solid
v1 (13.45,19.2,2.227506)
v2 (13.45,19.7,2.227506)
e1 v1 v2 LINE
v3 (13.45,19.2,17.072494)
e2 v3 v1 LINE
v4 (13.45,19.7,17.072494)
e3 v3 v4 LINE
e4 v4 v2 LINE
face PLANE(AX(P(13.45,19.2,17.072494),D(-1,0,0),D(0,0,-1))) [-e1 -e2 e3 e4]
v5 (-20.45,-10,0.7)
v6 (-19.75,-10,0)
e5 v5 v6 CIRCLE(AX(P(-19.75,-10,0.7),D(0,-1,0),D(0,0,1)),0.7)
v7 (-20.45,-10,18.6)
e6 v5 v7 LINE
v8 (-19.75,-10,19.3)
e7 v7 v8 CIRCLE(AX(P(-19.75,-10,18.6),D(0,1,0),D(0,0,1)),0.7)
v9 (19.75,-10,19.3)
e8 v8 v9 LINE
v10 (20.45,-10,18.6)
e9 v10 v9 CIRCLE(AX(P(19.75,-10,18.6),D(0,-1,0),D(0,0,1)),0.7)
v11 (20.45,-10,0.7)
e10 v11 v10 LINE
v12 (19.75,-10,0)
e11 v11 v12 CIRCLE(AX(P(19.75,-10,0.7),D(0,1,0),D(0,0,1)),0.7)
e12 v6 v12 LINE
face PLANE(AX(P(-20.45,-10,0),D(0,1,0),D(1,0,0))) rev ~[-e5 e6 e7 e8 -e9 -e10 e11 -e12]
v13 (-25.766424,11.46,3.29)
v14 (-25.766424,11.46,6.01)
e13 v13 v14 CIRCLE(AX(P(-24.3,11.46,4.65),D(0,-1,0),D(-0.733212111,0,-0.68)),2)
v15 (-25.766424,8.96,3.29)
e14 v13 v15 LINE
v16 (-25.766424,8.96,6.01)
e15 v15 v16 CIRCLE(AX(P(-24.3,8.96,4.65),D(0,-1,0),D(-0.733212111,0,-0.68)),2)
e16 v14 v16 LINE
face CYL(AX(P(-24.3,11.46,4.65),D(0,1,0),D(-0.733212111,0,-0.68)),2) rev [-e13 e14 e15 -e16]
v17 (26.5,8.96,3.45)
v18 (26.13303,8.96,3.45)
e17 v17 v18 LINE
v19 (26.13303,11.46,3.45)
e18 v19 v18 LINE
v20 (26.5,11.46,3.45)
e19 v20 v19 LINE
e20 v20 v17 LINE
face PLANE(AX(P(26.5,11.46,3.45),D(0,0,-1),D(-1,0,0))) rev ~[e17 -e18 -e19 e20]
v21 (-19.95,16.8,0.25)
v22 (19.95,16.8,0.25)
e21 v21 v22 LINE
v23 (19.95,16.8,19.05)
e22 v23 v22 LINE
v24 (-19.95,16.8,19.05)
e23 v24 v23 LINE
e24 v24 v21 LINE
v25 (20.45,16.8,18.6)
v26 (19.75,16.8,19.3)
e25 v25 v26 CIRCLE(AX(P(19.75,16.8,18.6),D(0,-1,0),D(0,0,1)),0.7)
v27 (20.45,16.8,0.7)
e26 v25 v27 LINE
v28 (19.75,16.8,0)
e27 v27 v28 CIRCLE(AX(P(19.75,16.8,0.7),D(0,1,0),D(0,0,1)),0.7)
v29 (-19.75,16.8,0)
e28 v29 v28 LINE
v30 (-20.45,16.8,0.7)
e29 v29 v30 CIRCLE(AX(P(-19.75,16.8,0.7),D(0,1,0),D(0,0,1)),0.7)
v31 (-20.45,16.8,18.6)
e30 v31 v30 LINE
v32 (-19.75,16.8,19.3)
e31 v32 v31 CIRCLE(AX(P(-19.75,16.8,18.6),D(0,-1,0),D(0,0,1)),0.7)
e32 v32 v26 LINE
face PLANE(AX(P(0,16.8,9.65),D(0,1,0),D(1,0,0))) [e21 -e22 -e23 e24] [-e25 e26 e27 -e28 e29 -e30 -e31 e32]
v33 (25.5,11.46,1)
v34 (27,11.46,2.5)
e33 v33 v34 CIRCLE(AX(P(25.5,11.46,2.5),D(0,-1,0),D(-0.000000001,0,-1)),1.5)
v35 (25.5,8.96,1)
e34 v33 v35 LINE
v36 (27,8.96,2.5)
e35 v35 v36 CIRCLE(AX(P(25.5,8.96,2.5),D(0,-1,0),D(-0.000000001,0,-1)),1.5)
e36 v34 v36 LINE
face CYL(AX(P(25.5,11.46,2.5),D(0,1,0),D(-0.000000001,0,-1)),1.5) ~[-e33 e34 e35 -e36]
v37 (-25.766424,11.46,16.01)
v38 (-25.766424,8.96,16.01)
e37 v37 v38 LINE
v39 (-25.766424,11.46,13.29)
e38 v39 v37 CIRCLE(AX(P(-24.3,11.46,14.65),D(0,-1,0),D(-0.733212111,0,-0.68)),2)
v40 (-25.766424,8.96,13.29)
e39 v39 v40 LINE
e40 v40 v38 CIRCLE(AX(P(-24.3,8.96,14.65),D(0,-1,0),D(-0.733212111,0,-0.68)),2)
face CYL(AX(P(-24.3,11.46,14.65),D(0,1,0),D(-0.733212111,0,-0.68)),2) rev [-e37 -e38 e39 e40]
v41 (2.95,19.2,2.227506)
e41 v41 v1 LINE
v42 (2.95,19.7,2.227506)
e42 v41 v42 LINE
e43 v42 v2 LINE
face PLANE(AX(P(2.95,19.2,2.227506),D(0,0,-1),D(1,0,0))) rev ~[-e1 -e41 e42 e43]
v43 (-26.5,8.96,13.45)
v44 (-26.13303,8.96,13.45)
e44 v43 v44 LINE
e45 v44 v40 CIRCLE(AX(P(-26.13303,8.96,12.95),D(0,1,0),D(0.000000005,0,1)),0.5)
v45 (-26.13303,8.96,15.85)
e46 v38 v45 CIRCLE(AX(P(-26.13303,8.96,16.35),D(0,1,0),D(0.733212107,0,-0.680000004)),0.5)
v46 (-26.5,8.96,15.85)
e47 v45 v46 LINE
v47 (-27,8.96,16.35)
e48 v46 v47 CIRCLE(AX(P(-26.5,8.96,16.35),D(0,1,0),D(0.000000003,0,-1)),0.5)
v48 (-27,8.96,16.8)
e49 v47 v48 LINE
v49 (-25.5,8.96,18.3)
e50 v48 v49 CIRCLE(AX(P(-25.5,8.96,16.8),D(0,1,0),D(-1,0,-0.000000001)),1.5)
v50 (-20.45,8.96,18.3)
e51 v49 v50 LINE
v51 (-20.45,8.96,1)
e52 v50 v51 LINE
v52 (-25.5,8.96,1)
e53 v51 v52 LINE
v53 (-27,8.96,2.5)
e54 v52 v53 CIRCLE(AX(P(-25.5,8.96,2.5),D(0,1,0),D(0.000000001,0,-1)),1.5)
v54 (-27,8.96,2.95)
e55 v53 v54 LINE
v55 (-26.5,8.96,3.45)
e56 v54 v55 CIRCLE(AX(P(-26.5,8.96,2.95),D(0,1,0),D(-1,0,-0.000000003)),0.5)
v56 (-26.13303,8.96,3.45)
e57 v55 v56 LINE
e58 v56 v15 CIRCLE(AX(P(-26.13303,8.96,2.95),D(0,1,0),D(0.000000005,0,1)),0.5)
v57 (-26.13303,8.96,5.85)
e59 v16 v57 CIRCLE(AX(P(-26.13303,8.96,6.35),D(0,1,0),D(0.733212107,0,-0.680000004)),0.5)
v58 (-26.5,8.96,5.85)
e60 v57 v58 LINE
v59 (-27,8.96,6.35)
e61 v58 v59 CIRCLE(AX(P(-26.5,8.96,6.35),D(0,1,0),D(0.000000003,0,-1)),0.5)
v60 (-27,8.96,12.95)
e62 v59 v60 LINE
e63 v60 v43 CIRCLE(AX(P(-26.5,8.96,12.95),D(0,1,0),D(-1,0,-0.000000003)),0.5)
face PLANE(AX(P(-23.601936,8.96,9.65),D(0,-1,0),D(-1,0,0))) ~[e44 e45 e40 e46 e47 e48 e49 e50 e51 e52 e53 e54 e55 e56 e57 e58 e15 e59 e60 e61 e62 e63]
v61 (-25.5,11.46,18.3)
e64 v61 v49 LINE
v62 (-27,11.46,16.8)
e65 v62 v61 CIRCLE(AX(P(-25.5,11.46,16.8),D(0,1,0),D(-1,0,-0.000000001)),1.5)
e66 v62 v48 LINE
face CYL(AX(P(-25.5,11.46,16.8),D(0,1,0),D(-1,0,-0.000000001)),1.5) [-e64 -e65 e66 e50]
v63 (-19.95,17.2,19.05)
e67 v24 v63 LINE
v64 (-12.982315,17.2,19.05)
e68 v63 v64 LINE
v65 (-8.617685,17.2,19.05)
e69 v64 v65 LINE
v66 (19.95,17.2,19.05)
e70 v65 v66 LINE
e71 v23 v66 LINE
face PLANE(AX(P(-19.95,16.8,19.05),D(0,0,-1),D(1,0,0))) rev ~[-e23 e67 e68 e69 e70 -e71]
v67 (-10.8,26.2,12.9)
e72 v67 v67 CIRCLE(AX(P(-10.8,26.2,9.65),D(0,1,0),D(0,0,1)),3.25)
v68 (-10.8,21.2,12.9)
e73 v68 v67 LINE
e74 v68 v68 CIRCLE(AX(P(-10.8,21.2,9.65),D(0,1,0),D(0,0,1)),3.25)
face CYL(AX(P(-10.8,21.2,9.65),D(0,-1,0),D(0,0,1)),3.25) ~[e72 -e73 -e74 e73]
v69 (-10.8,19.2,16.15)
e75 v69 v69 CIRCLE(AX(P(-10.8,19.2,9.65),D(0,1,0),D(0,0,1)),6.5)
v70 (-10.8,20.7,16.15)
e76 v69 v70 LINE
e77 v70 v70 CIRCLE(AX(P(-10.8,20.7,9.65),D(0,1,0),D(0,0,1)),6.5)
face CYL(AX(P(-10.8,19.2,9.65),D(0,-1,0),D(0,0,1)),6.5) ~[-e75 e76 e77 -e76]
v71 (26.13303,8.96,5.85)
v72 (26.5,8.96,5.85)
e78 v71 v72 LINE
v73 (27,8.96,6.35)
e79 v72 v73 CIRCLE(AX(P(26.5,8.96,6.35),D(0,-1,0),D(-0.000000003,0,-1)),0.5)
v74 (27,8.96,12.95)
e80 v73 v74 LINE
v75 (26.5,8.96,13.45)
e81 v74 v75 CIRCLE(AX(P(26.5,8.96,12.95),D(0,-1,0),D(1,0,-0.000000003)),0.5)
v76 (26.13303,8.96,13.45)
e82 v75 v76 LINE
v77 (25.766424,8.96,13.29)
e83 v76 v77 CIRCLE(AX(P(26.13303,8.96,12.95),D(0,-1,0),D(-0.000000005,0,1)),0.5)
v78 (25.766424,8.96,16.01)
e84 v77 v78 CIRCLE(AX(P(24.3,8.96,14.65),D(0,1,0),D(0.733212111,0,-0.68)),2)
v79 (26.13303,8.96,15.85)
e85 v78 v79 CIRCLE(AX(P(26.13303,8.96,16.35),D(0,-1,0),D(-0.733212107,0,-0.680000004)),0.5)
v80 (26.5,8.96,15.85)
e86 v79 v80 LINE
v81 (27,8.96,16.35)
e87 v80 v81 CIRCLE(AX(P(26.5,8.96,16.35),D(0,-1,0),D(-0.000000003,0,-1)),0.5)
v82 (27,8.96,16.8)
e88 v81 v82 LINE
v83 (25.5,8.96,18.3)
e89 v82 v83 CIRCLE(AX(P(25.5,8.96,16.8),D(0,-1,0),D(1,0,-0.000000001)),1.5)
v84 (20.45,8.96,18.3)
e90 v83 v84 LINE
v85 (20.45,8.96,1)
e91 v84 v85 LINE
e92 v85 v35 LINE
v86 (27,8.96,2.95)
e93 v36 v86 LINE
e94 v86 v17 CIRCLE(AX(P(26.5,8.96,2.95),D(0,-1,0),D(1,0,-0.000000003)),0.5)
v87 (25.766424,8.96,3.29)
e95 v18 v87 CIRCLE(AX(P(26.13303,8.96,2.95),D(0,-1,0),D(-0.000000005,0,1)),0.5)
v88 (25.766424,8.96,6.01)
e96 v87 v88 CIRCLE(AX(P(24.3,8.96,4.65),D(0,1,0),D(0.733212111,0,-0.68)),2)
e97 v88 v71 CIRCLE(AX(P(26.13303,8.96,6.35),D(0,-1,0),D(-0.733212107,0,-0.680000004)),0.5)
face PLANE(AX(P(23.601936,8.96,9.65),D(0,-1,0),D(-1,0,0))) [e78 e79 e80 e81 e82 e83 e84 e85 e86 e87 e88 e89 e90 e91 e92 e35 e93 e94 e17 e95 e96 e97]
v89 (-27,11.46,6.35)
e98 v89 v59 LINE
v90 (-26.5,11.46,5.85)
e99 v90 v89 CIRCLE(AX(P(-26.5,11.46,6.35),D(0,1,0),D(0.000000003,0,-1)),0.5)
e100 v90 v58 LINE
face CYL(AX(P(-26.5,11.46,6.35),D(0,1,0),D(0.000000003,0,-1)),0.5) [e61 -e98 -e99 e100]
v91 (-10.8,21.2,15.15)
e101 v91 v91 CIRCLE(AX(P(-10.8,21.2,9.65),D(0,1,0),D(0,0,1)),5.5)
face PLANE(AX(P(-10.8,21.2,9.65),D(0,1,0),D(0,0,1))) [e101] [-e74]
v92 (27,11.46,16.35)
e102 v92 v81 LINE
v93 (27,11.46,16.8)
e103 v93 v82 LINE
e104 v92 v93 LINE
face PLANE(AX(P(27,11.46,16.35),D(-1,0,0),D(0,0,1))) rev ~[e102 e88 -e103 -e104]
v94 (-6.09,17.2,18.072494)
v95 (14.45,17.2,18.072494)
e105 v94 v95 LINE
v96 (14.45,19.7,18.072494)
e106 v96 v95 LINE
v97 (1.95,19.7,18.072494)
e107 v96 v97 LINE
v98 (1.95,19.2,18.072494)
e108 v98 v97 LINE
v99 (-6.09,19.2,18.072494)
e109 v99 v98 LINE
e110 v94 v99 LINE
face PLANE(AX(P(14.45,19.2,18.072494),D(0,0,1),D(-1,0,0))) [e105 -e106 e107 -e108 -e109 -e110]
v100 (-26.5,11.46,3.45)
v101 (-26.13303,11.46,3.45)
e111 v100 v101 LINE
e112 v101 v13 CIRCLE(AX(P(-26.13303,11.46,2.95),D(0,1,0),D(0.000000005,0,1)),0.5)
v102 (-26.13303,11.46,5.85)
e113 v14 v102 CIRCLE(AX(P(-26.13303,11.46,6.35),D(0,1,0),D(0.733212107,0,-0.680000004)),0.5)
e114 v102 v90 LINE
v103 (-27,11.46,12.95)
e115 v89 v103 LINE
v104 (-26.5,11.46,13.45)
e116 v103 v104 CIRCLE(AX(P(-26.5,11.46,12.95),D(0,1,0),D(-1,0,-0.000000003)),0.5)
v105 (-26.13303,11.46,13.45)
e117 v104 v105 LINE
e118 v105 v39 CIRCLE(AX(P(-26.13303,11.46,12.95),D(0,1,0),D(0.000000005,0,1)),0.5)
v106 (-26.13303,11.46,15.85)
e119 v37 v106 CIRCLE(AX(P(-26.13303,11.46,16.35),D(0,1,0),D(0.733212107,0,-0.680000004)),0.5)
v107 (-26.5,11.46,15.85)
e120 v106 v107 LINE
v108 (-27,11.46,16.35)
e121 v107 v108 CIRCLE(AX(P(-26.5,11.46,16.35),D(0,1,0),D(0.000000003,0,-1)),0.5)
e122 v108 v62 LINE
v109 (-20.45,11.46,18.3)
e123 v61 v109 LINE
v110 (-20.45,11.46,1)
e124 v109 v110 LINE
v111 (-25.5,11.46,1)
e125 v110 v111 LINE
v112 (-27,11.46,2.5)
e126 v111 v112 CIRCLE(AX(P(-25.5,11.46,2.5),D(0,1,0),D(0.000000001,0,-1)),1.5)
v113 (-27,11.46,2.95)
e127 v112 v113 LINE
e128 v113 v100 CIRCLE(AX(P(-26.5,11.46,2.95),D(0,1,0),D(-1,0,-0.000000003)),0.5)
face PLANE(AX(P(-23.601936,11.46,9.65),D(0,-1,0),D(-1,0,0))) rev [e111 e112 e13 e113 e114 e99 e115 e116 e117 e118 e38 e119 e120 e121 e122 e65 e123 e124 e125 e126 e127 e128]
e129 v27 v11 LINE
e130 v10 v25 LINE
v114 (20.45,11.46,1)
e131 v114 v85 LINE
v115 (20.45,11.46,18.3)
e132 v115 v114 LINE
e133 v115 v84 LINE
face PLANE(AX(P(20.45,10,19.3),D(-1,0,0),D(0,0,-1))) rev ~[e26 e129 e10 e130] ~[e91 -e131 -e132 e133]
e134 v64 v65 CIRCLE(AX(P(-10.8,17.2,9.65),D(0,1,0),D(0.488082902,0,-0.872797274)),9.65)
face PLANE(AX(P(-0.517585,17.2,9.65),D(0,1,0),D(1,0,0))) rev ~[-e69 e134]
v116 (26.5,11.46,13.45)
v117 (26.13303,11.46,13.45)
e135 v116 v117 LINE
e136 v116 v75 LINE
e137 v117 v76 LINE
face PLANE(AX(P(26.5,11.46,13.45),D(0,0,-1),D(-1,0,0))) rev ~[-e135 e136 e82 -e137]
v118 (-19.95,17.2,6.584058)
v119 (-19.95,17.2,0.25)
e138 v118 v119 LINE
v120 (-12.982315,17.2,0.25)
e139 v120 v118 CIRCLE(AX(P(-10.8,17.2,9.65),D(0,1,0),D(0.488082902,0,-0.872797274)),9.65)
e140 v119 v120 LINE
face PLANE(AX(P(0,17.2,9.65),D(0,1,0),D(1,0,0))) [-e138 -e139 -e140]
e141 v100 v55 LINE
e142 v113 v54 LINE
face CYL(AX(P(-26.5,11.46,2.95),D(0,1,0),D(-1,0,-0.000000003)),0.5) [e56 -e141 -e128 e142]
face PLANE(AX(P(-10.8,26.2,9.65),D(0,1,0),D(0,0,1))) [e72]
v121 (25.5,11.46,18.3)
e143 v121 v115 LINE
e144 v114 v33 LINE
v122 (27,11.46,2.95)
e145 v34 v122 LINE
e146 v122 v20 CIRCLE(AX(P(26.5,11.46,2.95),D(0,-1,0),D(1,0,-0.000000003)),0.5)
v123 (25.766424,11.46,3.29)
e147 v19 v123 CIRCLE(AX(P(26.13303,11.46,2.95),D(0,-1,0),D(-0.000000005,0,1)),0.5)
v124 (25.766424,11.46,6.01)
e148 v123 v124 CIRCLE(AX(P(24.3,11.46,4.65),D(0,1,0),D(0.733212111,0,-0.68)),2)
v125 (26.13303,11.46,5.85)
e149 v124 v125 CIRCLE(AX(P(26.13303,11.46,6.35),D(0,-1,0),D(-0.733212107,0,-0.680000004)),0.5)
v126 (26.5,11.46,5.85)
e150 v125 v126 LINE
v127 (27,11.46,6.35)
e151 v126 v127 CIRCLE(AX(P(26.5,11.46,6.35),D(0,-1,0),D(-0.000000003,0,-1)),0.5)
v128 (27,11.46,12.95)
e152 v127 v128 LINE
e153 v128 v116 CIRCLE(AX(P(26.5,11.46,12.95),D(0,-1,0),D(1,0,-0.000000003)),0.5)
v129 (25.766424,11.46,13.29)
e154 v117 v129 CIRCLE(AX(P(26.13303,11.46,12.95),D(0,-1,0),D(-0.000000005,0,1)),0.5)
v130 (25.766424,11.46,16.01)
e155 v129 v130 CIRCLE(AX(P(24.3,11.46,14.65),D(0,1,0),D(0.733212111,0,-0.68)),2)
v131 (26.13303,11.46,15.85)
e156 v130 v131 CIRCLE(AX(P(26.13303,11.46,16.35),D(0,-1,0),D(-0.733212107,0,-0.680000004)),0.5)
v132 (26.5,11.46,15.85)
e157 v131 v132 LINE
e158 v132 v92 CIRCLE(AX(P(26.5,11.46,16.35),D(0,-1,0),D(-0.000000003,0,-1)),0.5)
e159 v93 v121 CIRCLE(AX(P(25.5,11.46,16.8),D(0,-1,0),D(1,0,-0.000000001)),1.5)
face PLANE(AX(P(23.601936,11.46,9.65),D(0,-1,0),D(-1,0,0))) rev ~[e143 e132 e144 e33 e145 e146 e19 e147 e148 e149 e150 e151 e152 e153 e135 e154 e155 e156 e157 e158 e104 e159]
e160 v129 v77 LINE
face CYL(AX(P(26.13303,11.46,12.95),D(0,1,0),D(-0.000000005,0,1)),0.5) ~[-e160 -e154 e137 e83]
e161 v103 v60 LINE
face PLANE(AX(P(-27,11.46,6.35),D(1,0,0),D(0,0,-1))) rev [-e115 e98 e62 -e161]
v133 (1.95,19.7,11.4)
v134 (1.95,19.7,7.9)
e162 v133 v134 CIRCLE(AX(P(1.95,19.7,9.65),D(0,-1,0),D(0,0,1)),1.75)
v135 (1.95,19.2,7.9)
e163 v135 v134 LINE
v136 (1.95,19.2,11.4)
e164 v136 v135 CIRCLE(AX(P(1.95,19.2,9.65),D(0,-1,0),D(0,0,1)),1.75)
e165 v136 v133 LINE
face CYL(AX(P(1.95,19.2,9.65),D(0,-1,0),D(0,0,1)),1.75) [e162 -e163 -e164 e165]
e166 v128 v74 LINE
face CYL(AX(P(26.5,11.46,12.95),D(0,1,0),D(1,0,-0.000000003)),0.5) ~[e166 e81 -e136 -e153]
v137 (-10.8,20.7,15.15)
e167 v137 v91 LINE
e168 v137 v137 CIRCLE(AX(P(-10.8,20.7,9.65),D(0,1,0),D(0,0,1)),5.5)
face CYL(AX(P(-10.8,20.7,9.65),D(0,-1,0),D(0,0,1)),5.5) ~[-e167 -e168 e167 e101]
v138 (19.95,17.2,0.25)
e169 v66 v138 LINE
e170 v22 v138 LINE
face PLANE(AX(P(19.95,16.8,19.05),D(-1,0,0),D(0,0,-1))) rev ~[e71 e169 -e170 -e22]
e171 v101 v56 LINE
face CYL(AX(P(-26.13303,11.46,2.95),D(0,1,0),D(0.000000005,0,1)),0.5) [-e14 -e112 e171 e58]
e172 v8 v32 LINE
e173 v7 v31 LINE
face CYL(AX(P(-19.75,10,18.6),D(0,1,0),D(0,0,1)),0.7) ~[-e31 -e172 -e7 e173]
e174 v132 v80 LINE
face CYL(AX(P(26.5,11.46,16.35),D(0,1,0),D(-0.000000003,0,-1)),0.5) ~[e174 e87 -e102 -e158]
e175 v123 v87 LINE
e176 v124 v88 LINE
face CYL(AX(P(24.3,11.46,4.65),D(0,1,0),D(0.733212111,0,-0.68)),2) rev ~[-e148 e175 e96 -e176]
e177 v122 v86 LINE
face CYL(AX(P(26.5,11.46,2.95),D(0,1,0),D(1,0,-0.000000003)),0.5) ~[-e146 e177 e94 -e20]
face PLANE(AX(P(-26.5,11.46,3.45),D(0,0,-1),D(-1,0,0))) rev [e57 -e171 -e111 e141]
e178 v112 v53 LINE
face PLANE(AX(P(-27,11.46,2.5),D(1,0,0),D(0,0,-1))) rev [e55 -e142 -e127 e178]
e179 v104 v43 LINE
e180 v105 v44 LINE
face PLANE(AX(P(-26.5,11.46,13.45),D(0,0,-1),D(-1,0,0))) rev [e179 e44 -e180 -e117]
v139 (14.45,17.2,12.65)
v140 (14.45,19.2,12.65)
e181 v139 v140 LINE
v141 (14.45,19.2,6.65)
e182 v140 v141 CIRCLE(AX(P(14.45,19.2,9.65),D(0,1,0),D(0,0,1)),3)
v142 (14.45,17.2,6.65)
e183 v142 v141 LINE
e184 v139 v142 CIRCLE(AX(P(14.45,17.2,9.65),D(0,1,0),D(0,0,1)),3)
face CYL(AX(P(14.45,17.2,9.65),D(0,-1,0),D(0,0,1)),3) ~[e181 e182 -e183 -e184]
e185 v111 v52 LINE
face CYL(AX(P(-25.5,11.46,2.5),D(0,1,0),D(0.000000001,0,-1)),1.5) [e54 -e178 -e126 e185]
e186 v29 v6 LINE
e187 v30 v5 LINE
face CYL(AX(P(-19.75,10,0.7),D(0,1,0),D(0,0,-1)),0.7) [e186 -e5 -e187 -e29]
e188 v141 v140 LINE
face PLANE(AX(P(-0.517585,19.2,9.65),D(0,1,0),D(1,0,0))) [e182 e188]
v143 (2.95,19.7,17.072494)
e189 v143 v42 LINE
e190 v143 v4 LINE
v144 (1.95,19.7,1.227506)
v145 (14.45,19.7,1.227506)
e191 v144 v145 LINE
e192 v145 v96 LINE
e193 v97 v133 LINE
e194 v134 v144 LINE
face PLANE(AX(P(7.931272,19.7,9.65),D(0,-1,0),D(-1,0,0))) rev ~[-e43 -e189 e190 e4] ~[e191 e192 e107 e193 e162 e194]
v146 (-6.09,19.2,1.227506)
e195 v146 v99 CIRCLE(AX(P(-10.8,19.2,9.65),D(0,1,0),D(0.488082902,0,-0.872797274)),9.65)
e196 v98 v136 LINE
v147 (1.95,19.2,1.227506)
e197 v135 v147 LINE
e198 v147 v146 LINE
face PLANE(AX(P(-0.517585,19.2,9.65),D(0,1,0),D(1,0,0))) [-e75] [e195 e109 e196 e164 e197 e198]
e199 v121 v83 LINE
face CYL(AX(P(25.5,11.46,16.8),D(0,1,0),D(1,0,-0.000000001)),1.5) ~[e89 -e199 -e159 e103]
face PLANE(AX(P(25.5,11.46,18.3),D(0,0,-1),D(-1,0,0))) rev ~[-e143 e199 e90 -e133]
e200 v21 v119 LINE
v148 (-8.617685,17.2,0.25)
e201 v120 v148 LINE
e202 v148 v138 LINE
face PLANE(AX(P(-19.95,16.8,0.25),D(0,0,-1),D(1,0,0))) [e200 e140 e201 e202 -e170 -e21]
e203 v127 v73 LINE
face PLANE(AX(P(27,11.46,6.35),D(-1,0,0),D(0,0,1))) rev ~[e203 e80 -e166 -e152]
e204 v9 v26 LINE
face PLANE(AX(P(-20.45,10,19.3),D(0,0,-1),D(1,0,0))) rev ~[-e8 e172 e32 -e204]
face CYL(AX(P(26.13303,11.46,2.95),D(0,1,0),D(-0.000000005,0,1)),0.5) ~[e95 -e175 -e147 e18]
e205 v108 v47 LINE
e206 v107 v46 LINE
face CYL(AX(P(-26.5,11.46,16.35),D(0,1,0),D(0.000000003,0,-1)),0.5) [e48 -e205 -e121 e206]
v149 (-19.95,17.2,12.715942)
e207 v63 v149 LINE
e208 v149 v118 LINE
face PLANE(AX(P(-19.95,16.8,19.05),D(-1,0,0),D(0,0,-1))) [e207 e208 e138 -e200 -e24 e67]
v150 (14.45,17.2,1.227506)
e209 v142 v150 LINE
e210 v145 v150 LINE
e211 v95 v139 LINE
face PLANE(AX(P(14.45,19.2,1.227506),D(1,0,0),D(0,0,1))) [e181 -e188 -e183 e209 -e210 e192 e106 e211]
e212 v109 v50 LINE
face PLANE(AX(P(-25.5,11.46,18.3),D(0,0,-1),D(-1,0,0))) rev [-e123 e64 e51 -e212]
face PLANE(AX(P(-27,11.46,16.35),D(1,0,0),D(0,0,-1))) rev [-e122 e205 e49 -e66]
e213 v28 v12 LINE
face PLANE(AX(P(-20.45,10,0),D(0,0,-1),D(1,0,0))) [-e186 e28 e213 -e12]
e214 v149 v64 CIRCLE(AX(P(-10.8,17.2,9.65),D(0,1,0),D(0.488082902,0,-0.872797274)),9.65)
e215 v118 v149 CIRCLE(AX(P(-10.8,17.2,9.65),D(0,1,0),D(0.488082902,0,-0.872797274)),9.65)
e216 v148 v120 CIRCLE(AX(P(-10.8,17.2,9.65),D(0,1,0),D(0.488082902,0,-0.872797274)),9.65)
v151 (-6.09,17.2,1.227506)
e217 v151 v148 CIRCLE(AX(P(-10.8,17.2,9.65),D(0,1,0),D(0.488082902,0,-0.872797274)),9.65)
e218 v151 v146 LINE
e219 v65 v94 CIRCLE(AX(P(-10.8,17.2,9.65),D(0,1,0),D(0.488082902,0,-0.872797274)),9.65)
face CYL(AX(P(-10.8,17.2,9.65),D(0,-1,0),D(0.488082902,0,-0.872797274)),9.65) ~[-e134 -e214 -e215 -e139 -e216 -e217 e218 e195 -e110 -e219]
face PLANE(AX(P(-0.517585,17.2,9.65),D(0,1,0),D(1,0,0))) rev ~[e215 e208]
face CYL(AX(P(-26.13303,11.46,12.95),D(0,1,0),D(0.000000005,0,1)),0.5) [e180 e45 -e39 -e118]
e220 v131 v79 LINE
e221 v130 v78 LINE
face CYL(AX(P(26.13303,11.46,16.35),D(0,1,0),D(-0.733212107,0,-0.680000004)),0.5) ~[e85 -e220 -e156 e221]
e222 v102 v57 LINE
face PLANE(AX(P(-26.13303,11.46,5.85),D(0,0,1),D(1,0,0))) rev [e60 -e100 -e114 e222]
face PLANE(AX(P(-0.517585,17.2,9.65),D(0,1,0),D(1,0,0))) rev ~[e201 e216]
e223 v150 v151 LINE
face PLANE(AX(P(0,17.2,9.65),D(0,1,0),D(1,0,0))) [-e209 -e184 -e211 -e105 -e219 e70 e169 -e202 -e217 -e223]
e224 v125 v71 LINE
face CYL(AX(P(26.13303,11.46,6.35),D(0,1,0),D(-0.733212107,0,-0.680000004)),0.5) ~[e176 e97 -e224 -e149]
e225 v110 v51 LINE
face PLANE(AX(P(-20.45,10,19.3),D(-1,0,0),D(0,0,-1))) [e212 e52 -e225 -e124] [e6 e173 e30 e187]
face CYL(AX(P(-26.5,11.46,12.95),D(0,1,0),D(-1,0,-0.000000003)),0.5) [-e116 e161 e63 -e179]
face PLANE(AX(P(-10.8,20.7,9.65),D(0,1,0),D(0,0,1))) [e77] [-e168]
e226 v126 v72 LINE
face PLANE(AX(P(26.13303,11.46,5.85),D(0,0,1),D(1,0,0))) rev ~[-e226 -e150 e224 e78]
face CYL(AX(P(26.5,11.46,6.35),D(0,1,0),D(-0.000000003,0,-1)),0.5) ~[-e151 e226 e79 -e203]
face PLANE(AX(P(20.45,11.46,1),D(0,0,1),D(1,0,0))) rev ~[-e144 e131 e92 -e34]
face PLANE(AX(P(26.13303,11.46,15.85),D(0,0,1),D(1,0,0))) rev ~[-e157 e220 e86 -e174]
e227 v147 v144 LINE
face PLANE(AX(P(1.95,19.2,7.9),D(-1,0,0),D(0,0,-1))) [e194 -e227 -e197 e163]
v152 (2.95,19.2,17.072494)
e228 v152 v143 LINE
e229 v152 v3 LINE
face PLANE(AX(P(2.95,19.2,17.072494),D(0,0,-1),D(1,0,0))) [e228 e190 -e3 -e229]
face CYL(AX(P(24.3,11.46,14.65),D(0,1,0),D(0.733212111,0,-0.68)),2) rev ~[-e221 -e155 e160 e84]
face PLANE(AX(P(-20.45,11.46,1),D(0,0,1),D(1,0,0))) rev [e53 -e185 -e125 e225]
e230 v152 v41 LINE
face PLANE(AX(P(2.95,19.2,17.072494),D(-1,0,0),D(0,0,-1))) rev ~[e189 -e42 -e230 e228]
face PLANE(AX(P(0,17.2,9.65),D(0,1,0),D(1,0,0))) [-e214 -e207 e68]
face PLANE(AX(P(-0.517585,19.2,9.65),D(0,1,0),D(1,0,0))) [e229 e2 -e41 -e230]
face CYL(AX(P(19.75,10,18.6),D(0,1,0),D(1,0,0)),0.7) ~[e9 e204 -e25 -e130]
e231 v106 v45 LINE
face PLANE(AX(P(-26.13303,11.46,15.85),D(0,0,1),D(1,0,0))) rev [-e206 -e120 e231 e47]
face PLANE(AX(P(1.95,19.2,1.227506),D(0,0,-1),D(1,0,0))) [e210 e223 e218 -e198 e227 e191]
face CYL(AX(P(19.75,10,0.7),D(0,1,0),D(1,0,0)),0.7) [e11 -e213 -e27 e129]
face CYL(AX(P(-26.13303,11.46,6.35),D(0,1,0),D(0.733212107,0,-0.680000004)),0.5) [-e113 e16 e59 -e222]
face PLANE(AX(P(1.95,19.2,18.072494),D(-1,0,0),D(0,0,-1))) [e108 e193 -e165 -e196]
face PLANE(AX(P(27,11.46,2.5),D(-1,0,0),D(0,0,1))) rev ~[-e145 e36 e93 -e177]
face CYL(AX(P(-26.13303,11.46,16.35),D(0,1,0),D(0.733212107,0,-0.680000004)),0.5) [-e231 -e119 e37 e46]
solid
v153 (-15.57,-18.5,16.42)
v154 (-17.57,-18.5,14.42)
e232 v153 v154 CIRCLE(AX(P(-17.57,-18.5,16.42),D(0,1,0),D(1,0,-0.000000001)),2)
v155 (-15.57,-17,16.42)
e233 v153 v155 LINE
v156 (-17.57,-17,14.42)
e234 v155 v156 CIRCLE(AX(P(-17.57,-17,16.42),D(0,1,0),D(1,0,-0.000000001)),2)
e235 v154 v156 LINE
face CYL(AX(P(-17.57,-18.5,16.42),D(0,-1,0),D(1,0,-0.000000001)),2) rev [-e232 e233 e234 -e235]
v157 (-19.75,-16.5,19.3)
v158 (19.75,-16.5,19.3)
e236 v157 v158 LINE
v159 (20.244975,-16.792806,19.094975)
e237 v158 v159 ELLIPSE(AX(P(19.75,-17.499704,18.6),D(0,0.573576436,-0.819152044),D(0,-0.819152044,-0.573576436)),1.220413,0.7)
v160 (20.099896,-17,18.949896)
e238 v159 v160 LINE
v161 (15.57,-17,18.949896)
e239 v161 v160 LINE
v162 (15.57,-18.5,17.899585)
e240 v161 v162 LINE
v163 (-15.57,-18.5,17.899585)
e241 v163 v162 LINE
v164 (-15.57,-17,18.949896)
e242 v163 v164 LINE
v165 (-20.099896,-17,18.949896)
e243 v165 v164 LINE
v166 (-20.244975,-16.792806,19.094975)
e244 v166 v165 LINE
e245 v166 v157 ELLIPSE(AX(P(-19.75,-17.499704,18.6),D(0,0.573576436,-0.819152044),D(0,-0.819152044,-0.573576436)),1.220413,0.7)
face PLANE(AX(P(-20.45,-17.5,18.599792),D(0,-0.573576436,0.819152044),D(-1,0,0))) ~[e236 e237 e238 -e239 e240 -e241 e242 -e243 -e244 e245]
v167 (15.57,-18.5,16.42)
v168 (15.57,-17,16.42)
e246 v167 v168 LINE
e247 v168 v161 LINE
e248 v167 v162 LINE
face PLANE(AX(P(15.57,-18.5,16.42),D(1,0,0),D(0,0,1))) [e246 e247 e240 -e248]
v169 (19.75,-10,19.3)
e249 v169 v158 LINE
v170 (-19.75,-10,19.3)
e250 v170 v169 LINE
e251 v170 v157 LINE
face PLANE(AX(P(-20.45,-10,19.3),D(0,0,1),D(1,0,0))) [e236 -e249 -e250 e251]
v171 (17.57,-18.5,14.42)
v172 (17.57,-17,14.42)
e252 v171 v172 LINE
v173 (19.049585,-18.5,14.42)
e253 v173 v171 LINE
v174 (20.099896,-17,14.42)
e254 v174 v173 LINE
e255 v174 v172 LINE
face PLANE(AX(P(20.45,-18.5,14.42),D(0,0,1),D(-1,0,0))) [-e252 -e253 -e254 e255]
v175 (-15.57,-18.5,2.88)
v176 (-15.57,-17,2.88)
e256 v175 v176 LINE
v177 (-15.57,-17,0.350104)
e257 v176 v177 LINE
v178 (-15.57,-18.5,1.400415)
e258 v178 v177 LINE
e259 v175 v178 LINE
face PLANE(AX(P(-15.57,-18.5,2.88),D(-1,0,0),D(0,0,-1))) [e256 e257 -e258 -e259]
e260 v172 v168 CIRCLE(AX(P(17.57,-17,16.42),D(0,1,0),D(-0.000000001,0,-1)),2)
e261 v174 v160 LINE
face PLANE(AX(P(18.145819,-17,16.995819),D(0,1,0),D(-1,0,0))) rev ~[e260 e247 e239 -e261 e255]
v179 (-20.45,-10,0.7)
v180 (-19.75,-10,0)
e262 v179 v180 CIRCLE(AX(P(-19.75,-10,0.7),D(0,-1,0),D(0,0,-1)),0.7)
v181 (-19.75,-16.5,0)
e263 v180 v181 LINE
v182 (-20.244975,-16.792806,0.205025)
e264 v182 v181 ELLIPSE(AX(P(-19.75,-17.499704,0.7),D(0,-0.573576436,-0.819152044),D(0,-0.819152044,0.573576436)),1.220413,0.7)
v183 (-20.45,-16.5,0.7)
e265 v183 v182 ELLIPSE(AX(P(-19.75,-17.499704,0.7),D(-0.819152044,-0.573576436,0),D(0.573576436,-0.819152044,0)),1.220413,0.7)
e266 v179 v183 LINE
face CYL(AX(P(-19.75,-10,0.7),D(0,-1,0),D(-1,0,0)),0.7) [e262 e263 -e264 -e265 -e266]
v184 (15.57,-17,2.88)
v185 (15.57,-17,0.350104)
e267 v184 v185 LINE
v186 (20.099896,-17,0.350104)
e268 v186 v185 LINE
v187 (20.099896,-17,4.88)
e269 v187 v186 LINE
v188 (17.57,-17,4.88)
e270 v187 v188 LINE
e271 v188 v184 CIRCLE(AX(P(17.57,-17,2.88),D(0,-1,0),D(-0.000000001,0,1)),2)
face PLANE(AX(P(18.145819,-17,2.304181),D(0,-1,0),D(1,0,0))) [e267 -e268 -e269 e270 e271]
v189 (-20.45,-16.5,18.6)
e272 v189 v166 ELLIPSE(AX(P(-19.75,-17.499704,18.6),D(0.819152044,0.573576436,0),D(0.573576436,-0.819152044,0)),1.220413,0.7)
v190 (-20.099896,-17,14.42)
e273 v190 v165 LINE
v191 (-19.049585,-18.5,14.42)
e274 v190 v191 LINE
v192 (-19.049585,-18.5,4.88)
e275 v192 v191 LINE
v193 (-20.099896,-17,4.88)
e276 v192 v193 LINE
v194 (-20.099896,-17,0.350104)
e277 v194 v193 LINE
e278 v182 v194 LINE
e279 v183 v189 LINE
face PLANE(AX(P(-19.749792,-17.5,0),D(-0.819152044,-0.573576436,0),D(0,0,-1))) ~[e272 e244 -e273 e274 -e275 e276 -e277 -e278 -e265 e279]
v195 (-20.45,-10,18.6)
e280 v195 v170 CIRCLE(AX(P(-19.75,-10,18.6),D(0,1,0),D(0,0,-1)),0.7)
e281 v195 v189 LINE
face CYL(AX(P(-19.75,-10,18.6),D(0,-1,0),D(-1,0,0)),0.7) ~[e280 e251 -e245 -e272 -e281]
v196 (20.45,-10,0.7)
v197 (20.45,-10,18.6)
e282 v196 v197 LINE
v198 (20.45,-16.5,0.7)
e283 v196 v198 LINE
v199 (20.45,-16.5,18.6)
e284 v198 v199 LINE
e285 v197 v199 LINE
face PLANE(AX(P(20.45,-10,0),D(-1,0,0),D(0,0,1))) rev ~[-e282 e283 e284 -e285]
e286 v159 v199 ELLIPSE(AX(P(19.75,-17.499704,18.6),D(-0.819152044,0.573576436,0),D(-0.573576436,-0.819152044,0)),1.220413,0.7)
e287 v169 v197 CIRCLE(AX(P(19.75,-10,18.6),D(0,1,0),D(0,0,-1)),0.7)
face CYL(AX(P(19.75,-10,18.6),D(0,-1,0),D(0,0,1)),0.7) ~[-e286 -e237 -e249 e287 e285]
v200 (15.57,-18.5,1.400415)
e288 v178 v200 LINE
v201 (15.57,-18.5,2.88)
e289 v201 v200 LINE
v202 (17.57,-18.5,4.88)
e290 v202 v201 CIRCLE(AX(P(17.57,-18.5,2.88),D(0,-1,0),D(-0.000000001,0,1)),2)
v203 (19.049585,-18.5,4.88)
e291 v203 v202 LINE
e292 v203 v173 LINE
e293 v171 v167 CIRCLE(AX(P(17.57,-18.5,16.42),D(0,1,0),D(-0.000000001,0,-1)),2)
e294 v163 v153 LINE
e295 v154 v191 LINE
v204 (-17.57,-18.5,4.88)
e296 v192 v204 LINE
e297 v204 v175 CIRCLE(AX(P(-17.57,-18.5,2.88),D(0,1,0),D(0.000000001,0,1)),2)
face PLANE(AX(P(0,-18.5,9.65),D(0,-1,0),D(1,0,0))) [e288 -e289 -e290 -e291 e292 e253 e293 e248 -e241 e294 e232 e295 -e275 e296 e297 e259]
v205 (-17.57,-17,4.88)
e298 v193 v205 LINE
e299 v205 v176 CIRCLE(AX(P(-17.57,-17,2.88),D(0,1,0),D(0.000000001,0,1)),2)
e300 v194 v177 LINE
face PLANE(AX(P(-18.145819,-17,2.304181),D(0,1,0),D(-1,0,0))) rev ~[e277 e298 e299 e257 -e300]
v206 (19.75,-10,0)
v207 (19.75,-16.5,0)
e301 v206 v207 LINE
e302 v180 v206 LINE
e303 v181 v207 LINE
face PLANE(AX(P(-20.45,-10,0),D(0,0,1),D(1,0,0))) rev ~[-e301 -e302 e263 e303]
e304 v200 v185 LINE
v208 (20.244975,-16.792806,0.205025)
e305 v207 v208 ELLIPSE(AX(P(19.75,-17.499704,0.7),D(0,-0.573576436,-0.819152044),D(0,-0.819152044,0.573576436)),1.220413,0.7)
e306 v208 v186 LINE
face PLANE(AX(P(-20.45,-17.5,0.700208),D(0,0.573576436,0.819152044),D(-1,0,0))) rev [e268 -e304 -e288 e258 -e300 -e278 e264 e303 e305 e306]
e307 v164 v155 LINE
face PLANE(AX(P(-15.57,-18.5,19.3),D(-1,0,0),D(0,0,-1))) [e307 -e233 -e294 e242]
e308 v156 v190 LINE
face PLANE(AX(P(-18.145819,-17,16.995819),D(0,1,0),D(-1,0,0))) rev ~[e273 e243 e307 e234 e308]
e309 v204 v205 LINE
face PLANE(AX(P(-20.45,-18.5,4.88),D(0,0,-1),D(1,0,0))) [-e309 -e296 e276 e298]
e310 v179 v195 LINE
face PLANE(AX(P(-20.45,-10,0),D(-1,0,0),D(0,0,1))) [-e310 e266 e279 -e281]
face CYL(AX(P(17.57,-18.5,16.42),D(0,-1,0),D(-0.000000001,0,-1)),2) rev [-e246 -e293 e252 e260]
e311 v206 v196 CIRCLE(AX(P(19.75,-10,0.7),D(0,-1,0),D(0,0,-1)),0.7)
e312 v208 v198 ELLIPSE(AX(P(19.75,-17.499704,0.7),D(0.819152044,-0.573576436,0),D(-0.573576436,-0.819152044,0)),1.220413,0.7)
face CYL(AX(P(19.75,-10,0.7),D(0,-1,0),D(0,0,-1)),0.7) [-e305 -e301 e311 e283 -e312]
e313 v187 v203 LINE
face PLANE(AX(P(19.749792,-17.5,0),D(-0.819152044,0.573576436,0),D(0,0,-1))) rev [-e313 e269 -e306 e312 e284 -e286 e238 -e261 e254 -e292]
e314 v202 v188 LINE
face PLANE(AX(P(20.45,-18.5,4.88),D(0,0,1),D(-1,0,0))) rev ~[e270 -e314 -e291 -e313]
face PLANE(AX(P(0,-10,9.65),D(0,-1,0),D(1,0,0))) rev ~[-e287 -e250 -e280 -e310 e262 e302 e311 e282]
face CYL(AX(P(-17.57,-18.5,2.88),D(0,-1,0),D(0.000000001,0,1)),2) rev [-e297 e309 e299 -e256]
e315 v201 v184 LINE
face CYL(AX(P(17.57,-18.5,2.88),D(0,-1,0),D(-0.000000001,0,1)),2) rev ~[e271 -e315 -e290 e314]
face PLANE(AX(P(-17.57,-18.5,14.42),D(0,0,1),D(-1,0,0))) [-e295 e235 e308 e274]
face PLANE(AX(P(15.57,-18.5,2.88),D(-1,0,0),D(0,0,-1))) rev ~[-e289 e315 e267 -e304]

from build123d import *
from OCP.BRepFilletAPI import BRepFilletAPI_MakeChamfer

# Parameters (mm, degrees)
SKETCH1_W            = 40.9
SKETCH1_H            = 20
BOSS_EXTRUDE1_DEPTH  = 19.3
SKETCH2_W            = 40.9
SKETCH2_H            = 19.3
BOSS_EXTRUDE2_DEPTH  = 6.8
SKETCH3_W            = 40.9
SKETCH3_H            = 19.3
BOSS_EXTRUDE3_DEPTH  = 8.5
CHAMFER1_SIZE        = 2
CHAMFER1_SIZE2       = 1.400415076
CUT_EXTRUDE1_DEPTH   = 1.5
SKETCH5_W            = 39.9
SKETCH5_H            = 18.8
BOSS_EXTRUDE4_DEPTH  = 0.4
BOSS_EXTRUDE5_DEPTH  = 2
SKETCH7_R            = 6.5
BOSS_EXTRUDE6_DEPTH  = 1.5
SKETCH8_R            = 5.5
BOSS_EXTRUDE7_DEPTH  = 0.5
SKETCH9_R            = 3.25
BOSS_EXTRUDE8_DEPTH  = 5
SKETCH10_W           = 10.5
SKETCH10_H           = 14.844987384
BOSS_EXTRUDE9_DEPTH  = 0.5
FILLET1_R            = 0.7
FILLET2_R            = 0.7
FILLET3_R            = 0.7
BOSS_EXTRUDE10_START = -5.74
BOSS_EXTRUDE10_DEPTH = 2.5


with BuildPart() as part:
    # Sketch1 → Boss-Extrude1 (new body)
    with BuildSketch(Plane.XY):
        Rectangle(SKETCH1_W, SKETCH1_H)
    extrude(amount=BOSS_EXTRUDE1_DEPTH)

    # Fillet1
    fillet1_edges = [part.edges().sort_by_distance(p)[0] for p in [
        (-20.45, 0, 19.3),
        (20.45, 0, 19.3),
        (-20.45, 0, 0),
        (20.45, 0, 0),
    ]]
    fillet(fillet1_edges, radius=FILLET1_R)



with BuildPart() as body_2:
    # Sketch2 → Boss-Extrude2 (new body)
    with BuildSketch(Plane(origin=(0, 10, 0), x_dir=(1, 0, 0), z_dir=(0, 1, 0))):
        with Locations((0, -9.65)):
            Rectangle(SKETCH2_W, SKETCH2_H)
    extrude(amount=BOSS_EXTRUDE2_DEPTH)

    # Sketch5 → Boss-Extrude4 (add)
    with BuildSketch(Plane(origin=(0, 16.8, 0), x_dir=(1, 0, 0), z_dir=(0, 1, 0))):
        with Locations((0, -9.65)):
            Rectangle(SKETCH5_W, SKETCH5_H)
    extrude(amount=BOSS_EXTRUDE4_DEPTH)

    # Sketch6 → Boss-Extrude5 (add)
    with BuildSketch(Plane(origin=(0, 17.2, 0), x_dir=(1, 0, 0), z_dir=(0, 1, 0))):
        with BuildLine():
            Line((14.45, -18.072493692), (14.45, -12.65))
            ThreePointArc((14.45, -12.65), (17.45, -9.65), (14.45, -6.65))
            Line((14.45, -6.65), (14.45, -1.227506308))
            Line((14.45, -1.227506308), (-6.09, -1.227506308))
            ThreePointArc((-6.09, -1.227506308), (-20.45, -9.65), (-6.09, -18.072493692))
            Line((-6.09, -18.072493692), (14.45, -18.072493692))
        make_face()
    extrude(amount=BOSS_EXTRUDE5_DEPTH)

    # Sketch7 → Boss-Extrude6 (add)
    with BuildSketch(Plane(origin=(0, 19.2, 0), x_dir=(1, 0, 0), z_dir=(0, 1, 0))):
        with Locations(Location((-10.8, -9.65, 0), (0, 0, 270))):
            Circle(SKETCH7_R)
    extrude(amount=BOSS_EXTRUDE6_DEPTH)

    # Sketch8 → Boss-Extrude7 (add)
    with BuildSketch(Plane(origin=(0, 20.7, 0), x_dir=(1, 0, 0), z_dir=(0, 1, 0))):
        with Locations(Location((-10.8, -9.65, 0), (0, 0, 270))):
            Circle(SKETCH8_R)
    extrude(amount=BOSS_EXTRUDE7_DEPTH)

    # Sketch9 → Boss-Extrude8 (add)
    with BuildSketch(Plane(origin=(0, 21.2, 0), x_dir=(1, 0, 0), z_dir=(0, 1, 0))):
        with Locations(Location((-10.8, -9.65, 0), (0, 0, 270))):
            Circle(SKETCH9_R)
    extrude(amount=BOSS_EXTRUDE8_DEPTH)

    # Sketch10 → Boss-Extrude9 (add)
    with BuildSketch(Plane(origin=(0, 19.2, 0), x_dir=(1, 0, 0), z_dir=(0, 1, 0))):
        with BuildLine():
            Line((1.95, -1.227506308), (14.45, -1.227506308))
            Line((14.45, -1.227506308), (14.45, -18.072493692))
            Line((14.45, -18.072493692), (1.95, -18.072493692))
            Line((1.95, -18.072493692), (1.95, -11.4))
            ThreePointArc((1.95, -11.4), (0.2, -9.65), (1.95, -7.9))
            Line((1.95, -7.9), (1.95, -1.227506308))
        make_face()
        with Locations((8.2, -9.65)):
            Rectangle(SKETCH10_W, SKETCH10_H, mode=Mode.SUBTRACT)
    extrude(amount=BOSS_EXTRUDE9_DEPTH)

    # Fillet2
    fillet2_edges = [body_2.edges().sort_by_distance(p)[0] for p in [
        (20.45, 13.4, 19.3),
        (-20.45, 13.4, 19.3),
        (-20.45, 13.4, 0),
        (20.45, 13.4, 0),
    ]]
    fillet(fillet2_edges, radius=FILLET2_R)


with BuildPart() as body_3:
    # Sketch3 → Boss-Extrude3 (new body)
    with BuildSketch(Plane.XZ.offset(10)):
        with Locations((0, 9.65)):
            Rectangle(SKETCH3_W, SKETCH3_H)
    extrude(amount=BOSS_EXTRUDE3_DEPTH)

    # Chamfer1: one chamfer whose edges measure the first distance from different faces: ONE call of the kernel's chamfer builder (chamfer() names one face for all edges)
    chamfer1_edges_1 = [body_3.edges().sort_by_distance(p)[0] for p in [
        (20.45, -18.5, 9.65),
    ]]
    chamfer1_side_1 = [body_3.faces().sort_by_distance(p)[0] for p in [
        (20.45, -14.25, 9.65),
    ]]
    chamfer1_edges_2 = [body_3.edges().sort_by_distance(p)[0] for p in [
        (0, -18.5, 19.3),
    ]]
    chamfer1_side_2 = [body_3.faces().sort_by_distance(p)[0] for p in [
        (0, -14.25, 19.3),
    ]]
    chamfer1_edges_3 = [body_3.edges().sort_by_distance(p)[0] for p in [
        (-20.45, -18.5, 9.65),
    ]]
    chamfer1_side_3 = [body_3.faces().sort_by_distance(p)[0] for p in [
        (-20.45, -14.25, 9.65),
    ]]
    chamfer1_edges_4 = [body_3.edges().sort_by_distance(p)[0] for p in [
        (0, -18.5, 0),
    ]]
    chamfer1_side_4 = [body_3.faces().sort_by_distance(p)[0] for p in [
        (0, -14.25, 0),
    ]]
    chamfer1 = BRepFilletAPI_MakeChamfer(body_3.part.solid().wrapped)
    for e in chamfer1_edges_1:
        chamfer1.Add(CHAMFER1_SIZE, CHAMFER1_SIZE2, e.wrapped, chamfer1_side_1[0].wrapped)  # the first distance lies on this face
    for e in chamfer1_edges_2:
        chamfer1.Add(CHAMFER1_SIZE, CHAMFER1_SIZE2, e.wrapped, chamfer1_side_2[0].wrapped)  # the first distance lies on this face
    for e in chamfer1_edges_3:
        chamfer1.Add(CHAMFER1_SIZE, CHAMFER1_SIZE2, e.wrapped, chamfer1_side_3[0].wrapped)  # the first distance lies on this face
    for e in chamfer1_edges_4:
        chamfer1.Add(CHAMFER1_SIZE, CHAMFER1_SIZE2, e.wrapped, chamfer1_side_4[0].wrapped)  # the first distance lies on this face
    add(Compound.cast(chamfer1.Shape()), mode=Mode.REPLACE)

    # Sketch4 → Cut-Extrude1 (cut)
    with BuildSketch(Plane.XZ.offset(18.5)):
        with BuildLine():
            Line((-20.45, 19.3), (-15.57, 19.3))
            Line((-15.57, 19.3), (-15.57, 16.42))
            ThreePointArc((-15.57, 16.42), (-16.155786438, 15.005786438), (-17.57, 14.42))
            Line((-17.57, 14.42), (-20.45, 14.42))
            Line((-20.45, 14.42), (-20.45, 19.3))
        make_face()
        with BuildLine():
            Line((20.45, 14.42), (17.57, 14.42))
            ThreePointArc((17.57, 14.42), (16.155786438, 15.005786438), (15.57, 16.42))
            Line((15.57, 16.42), (15.57, 19.3))
            Line((15.57, 19.3), (20.45, 19.3))
            Line((20.45, 19.3), (20.45, 14.42))
        make_face()
        with BuildLine():
            Line((20.45, 0), (20.45, 4.88))
            Line((20.45, 4.88), (17.57, 4.88))
            ThreePointArc((17.57, 4.88), (16.155786438, 4.294213562), (15.57, 2.88))
            Line((15.57, 2.88), (15.57, 0))
            Line((15.57, 0), (20.45, 0))
        make_face()
        with BuildLine():
            Line((-20.45, 4.88), (-17.57, 4.88))
            ThreePointArc((-17.57, 4.88), (-16.155786438, 4.294213562), (-15.57, 2.88))
            Line((-15.57, 2.88), (-15.57, 0))
            Line((-15.57, 0), (-20.45, 0))
            Line((-20.45, 0), (-20.45, 4.88))
        make_face()
    extrude(amount=-CUT_EXTRUDE1_DEPTH, mode=Mode.SUBTRACT)

    # Fillet3
    fillet3_edges = [body_3.edges().sort_by_distance(p)[0] for p in [
        (-20.45, -13.25, 19.3),
        (20.45, -13.25, 19.3),
        (20.45, -13.25, 0),
        (-20.45, -13.25, 0),
    ]]
    fillet(fillet3_edges, radius=FILLET3_R)


with BuildPart() as part_1:
    add(part.part)

    add(body_2.part)  # Boss-Extrude10 merges body 2
    # Sketch11 → Boss-Extrude10 (add)
    with BuildSketch(Plane(origin=(0, 17.2, 0), x_dir=(1, 0, 0), z_dir=(0, 1, 0)).offset(BOSS_EXTRUDE10_START)):
        with BuildLine():
            Line((20.45, -1), (25.5, -1))
            ThreePointArc((25.5, -1), (26.560660172, -1.439339828), (27, -2.5))
            Line((27, -2.5), (27, -2.95))
            ThreePointArc((27, -2.95), (26.853553391, -3.303553391), (26.5, -3.45))
            Line((26.5, -3.45), (26.133030278, -3.45))
            ThreePointArc((26.133030278, -3.45), (25.933030278, -3.408257569), (25.766424222, -3.29))
            ThreePointArc((25.766424222, -3.29), (22.3, -4.65), (25.766424222, -6.01))
            ThreePointArc((25.766424222, -6.01), (25.933030278, -5.891742431), (26.133030278, -5.85))
            Line((26.133030278, -5.85), (26.5, -5.85))
            ThreePointArc((26.5, -5.85), (26.853553391, -5.996446609), (27, -6.35))
            Line((27, -6.35), (27, -12.95))
            ThreePointArc((27, -12.95), (26.853553391, -13.303553391), (26.5, -13.45))
            Line((26.5, -13.45), (26.133030278, -13.45))
            ThreePointArc((26.133030278, -13.45), (25.933030278, -13.408257569), (25.766424222, -13.29))
            ThreePointArc((25.766424222, -13.29), (22.3, -14.65), (25.766424222, -16.01))
            ThreePointArc((25.766424222, -16.01), (25.933030278, -15.891742431), (26.133030278, -15.85))
            Line((26.133030278, -15.85), (26.5, -15.85))
            ThreePointArc((26.5, -15.85), (26.853553391, -15.996446609), (27, -16.35))
            Line((27, -16.35), (27, -16.8))
            ThreePointArc((27, -16.8), (26.560660172, -17.860660172), (25.5, -18.3))
            Line((25.5, -18.3), (20.45, -18.3))
            Line((20.45, -18.3), (20.45, -1))
        make_face()
    boss_extrude10 = extrude(amount=-BOSS_EXTRUDE10_DEPTH)

    # Mirror1: Boss-Extrude10 across plane
    add(boss_extrude10.mirror(Plane(origin=(0, 0, 0), x_dir=(0, 0, 1), z_dir=(1, 0, 0))))


solid = Compound([body_3.part, part_1.part])
